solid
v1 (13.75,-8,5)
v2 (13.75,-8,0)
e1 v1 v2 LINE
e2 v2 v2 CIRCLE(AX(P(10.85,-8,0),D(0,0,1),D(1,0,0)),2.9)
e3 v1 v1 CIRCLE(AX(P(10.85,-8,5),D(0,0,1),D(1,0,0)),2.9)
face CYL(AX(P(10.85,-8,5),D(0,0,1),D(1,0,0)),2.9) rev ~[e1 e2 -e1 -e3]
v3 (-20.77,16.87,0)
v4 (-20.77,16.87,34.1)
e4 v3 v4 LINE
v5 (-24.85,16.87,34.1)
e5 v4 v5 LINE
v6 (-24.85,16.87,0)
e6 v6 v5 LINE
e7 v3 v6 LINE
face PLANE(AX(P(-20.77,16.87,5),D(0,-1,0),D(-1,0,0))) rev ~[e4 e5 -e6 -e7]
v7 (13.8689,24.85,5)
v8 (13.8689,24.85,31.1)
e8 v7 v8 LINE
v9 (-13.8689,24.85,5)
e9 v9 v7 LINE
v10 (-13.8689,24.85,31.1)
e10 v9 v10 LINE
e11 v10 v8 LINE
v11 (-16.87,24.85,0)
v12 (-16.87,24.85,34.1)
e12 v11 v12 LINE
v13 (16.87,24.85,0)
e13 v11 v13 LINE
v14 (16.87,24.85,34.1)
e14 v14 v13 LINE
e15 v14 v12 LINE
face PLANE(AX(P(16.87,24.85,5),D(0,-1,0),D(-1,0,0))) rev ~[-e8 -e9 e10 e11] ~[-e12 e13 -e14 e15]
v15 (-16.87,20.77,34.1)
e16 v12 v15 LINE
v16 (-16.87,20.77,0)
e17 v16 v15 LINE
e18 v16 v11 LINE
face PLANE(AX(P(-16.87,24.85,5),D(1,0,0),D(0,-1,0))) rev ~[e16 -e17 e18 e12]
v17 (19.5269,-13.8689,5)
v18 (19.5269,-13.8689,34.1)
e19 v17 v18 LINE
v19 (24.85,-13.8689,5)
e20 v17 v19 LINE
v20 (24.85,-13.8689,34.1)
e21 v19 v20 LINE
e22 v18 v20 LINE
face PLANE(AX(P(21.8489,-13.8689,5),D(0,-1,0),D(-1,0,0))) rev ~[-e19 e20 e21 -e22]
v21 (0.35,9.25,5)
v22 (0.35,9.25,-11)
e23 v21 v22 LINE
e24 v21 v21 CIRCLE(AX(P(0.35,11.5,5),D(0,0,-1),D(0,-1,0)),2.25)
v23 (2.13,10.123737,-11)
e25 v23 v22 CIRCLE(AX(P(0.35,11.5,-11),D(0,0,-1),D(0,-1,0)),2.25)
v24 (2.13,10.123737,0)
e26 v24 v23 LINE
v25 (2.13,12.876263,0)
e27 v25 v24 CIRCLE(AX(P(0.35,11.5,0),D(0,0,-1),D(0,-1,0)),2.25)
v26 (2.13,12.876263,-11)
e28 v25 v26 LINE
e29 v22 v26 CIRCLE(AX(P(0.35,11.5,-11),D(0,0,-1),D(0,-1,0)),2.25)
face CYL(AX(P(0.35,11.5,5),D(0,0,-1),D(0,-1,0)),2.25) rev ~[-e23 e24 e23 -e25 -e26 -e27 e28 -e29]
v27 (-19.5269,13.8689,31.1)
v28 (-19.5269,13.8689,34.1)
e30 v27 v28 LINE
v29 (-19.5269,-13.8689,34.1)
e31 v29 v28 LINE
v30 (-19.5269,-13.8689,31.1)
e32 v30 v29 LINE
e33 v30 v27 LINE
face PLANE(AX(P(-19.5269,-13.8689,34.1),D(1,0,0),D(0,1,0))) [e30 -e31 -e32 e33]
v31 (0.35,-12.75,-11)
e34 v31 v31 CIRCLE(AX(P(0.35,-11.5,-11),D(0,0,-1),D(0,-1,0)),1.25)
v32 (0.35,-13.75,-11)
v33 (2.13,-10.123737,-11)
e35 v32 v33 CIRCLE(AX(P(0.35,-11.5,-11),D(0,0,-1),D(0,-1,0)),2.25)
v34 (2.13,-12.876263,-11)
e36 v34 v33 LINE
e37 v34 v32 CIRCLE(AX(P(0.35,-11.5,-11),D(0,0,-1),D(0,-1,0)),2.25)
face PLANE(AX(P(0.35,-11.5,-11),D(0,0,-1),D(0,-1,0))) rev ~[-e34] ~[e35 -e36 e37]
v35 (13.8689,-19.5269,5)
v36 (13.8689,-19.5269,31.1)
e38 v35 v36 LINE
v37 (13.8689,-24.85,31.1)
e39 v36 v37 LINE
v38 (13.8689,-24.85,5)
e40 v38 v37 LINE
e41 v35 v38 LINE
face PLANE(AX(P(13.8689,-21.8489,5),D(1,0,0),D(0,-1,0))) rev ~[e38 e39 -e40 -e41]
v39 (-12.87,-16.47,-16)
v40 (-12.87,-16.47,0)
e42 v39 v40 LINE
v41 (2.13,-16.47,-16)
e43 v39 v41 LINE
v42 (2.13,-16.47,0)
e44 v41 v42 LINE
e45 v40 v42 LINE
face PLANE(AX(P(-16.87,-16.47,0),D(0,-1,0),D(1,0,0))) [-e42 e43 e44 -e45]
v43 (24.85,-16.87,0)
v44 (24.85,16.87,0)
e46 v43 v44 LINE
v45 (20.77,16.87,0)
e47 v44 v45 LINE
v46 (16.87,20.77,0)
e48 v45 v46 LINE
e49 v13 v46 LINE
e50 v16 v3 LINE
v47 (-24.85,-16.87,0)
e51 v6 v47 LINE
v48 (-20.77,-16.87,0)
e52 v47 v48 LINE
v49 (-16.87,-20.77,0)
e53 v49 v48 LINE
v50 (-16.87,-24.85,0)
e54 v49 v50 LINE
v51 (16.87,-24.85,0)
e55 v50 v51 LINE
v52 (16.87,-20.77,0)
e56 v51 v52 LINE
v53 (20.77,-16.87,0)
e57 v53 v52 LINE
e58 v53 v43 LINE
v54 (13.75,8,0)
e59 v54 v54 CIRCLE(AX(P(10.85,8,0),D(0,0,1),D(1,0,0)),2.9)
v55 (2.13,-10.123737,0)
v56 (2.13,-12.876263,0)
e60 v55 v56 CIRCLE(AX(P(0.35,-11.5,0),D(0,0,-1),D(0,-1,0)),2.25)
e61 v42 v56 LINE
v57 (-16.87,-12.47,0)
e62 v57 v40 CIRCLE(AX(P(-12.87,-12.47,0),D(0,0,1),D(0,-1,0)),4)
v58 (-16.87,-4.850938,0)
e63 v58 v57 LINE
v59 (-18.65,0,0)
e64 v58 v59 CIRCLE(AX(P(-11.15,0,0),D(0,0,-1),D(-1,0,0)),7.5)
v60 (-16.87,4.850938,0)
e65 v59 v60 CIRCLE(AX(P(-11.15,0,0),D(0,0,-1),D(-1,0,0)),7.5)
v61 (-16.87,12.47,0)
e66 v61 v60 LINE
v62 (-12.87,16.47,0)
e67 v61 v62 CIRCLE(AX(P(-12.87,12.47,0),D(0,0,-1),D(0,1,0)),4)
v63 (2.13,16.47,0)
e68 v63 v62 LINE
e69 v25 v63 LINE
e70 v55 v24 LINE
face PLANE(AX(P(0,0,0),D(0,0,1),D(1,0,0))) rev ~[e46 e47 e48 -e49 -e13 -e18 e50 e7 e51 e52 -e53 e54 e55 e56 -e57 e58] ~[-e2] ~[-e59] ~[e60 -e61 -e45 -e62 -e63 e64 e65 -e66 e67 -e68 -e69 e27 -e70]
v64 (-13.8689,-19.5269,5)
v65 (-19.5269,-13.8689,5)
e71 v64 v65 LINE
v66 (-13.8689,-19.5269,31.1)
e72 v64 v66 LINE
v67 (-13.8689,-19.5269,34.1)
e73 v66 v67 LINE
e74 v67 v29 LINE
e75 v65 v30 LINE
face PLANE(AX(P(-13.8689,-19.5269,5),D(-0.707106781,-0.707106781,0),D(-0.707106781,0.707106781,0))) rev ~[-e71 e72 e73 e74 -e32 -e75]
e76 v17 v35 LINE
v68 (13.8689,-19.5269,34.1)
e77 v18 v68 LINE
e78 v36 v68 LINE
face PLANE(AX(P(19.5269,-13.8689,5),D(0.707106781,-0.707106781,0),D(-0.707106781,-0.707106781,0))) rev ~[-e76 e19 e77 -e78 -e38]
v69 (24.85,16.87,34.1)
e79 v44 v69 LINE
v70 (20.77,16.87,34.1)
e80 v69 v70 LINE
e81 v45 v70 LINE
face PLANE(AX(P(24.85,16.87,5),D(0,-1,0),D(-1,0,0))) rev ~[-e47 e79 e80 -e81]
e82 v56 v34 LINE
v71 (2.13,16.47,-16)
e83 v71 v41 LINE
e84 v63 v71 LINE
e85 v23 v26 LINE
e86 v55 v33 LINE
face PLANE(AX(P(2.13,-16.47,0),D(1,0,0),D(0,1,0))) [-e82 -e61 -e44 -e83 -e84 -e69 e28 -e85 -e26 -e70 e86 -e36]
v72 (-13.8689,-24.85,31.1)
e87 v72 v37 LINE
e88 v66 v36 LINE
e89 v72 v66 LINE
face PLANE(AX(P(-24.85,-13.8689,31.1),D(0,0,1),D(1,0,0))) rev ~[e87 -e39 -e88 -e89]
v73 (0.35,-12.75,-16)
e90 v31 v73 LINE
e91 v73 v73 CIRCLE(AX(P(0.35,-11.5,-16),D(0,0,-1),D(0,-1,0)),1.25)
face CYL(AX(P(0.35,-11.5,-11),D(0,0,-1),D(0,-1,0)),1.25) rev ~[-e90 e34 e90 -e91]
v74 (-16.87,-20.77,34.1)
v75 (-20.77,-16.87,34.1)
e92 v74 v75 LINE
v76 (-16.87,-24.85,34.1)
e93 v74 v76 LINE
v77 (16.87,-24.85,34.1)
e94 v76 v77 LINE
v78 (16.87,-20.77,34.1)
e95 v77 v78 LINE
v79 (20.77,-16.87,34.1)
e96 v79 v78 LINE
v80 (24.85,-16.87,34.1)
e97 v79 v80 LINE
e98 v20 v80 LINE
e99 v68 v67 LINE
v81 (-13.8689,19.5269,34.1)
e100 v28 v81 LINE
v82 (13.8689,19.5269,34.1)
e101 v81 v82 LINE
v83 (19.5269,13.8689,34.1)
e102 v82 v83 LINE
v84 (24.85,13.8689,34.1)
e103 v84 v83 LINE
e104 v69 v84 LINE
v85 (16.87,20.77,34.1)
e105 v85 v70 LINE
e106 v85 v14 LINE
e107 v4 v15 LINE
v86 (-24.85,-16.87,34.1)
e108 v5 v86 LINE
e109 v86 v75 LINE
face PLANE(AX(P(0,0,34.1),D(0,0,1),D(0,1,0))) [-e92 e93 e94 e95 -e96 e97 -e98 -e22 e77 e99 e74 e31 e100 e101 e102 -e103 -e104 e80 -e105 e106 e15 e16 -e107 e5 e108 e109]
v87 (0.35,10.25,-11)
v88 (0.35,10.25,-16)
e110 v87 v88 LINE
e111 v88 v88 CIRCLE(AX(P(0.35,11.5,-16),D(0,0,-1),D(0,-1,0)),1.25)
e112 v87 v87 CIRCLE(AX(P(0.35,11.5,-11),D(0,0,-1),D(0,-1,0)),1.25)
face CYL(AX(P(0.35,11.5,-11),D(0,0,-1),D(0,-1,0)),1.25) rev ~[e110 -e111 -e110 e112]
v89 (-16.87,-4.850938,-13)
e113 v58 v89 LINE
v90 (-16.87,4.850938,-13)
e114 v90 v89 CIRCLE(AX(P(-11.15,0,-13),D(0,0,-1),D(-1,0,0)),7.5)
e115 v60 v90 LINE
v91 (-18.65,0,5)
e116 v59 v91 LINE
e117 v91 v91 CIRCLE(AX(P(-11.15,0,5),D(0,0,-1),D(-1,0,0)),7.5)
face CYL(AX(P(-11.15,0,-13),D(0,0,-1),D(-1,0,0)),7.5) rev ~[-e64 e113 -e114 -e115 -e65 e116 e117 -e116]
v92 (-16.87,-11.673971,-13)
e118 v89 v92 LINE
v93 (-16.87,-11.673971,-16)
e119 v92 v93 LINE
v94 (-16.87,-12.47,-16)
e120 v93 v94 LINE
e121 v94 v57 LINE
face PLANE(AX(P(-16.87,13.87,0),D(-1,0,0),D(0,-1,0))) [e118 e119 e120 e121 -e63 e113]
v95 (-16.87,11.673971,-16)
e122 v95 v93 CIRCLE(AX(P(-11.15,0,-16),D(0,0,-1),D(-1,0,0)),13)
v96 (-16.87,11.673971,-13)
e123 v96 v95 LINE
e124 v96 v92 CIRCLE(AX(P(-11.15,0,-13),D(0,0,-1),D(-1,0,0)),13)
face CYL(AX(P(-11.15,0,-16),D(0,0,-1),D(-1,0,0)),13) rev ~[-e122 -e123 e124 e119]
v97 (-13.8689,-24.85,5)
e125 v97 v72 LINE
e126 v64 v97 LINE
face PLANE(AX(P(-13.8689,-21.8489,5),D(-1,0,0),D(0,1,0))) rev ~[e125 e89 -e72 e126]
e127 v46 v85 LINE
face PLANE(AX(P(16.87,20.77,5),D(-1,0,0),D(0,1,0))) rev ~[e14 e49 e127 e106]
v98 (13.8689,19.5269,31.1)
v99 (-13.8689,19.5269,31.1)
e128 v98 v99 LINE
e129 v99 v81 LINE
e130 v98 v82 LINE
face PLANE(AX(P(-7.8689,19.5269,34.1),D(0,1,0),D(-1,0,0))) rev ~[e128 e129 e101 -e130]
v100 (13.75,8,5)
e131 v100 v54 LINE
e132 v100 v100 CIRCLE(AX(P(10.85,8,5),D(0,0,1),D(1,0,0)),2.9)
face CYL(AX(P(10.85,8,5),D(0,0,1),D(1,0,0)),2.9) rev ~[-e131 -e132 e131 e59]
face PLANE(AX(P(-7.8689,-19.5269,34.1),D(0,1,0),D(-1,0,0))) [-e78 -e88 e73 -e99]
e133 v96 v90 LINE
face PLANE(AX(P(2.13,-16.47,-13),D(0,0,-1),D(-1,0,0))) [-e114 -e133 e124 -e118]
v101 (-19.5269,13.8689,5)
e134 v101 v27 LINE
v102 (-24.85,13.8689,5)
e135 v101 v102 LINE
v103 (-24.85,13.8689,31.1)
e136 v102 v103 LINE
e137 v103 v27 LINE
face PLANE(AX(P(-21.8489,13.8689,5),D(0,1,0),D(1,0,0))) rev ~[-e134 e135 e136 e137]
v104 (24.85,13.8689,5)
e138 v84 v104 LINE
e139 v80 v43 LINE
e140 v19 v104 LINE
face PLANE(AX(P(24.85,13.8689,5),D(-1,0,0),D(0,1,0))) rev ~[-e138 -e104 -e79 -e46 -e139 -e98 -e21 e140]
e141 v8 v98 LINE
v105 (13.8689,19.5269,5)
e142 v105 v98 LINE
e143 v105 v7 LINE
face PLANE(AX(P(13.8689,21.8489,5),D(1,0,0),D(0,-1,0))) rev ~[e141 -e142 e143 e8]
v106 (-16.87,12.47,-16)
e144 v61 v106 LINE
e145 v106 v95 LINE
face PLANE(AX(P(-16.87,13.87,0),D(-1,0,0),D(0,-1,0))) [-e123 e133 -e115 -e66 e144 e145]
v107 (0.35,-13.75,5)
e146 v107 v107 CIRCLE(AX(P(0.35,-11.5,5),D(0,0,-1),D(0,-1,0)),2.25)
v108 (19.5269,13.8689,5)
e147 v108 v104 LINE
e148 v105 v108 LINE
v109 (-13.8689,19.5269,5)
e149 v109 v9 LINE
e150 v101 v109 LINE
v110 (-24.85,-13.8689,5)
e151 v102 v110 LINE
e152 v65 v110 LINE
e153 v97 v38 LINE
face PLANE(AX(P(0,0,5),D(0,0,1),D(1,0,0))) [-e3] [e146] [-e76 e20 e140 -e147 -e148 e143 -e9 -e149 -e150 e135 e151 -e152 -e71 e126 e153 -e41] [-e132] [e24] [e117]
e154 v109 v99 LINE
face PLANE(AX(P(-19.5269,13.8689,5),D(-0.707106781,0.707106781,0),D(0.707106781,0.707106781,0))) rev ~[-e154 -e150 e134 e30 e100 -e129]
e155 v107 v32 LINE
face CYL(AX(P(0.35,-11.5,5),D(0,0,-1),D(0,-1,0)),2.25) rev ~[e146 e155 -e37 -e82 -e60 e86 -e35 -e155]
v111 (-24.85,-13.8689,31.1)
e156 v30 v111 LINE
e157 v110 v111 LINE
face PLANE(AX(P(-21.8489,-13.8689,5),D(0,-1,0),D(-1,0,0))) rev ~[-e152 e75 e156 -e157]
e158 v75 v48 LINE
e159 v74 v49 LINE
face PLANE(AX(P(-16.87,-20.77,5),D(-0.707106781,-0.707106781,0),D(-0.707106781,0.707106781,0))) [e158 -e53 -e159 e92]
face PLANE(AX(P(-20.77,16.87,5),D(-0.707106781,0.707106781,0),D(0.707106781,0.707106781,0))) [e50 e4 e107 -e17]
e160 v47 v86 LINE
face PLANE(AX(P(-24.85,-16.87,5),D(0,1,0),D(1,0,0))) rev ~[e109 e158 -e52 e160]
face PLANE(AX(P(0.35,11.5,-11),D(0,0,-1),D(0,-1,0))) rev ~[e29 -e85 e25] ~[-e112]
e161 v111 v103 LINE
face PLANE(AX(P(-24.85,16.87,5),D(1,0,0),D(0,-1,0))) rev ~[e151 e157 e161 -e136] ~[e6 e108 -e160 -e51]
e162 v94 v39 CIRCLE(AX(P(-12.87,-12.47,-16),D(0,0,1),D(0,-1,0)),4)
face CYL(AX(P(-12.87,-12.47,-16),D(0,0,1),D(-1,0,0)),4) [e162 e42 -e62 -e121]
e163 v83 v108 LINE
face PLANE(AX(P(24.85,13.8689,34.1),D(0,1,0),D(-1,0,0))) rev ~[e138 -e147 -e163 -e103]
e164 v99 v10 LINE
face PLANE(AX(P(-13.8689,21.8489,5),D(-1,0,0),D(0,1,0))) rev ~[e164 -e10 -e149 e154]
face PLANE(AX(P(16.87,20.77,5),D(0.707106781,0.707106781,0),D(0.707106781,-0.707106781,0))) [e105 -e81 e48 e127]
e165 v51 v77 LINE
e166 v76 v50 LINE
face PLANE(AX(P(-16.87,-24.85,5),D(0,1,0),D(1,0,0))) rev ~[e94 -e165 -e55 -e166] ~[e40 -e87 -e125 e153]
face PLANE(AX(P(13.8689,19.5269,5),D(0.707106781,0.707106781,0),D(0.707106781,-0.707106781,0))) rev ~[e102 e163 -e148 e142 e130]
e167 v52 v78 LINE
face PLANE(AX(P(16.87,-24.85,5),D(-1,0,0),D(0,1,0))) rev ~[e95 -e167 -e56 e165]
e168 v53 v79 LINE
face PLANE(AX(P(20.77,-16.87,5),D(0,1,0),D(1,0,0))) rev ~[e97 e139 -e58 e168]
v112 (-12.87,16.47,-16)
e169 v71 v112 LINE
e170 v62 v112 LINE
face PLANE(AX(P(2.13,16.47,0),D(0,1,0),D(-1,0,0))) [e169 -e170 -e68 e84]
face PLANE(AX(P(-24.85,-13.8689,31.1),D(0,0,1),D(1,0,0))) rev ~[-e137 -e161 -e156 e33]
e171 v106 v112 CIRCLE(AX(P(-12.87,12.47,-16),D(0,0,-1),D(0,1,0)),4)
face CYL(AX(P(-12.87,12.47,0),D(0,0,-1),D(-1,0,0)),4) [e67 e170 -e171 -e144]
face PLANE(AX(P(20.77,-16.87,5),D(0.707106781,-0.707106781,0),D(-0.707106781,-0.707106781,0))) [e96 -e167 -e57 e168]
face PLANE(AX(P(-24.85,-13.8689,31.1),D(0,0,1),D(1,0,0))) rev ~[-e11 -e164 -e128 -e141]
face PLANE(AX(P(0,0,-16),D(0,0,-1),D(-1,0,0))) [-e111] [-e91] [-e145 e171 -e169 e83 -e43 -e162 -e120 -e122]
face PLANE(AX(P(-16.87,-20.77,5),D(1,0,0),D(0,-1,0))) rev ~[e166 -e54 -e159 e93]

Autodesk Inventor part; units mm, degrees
ref_plane "Work Plane1" through (0, 0, 0) normal (0, 0, 1) x (1, 0, 0)
sketch "Sketch1" plane through (0, 0, 0) normal (0, 0, 1) x (1, 0, 0)
  arc A0 (12.5934, -5.8404) -> (12.8401, -5.9947) centre (12.8241, -5.7459) ccw construction
  line L0 (12.8401, -5.9947) -> (16.4715, -5.9947) construction
  line L1 (16.4715, -5.9947) -> (16.97, -5.4961) construction
  line L2 (16.97, -5.4961) -> (16.97, 1.583) construction
  arc A1 (16.97, 2.3806) -> (16.97, 1.583) centre (17.2691, 1.9818) ccw construction
  line L3 (16.97, 2.3806) -> (16.97, 5.4715) construction
  line L4 (16.97, 5.4715) -> (16.4715, 5.97) construction
  line L5 (16.4715, 5.97) -> (12.8401, 5.97) construction
  arc A2 (12.8401, 5.97) -> (12.6094, 5.8152) centre (12.8401, 5.7207) ccw construction
  arc A3 (12.0954, 5.2394) -> (12.6094, 5.8152) centre (11.5075, 6.2814) ccw construction
  arc A4 (12.0954, 5.2394) -> (11.974, 5.0466) centre (12.2223, 5.0248) ccw construction
  line L6 (11.974, 5.0466) -> (11.9439, 4.702) construction
  arc A5 (11.6955, 4.4744) -> (11.9439, 4.702) centre (11.6955, 4.7237) ccw construction
  line L7 (11.6955, 4.4744) -> (11.2445, 4.4744) construction
  arc A6 (10.9961, 4.702) -> (11.2445, 4.4744) centre (11.2445, 4.7237) ccw construction
  line L8 (10.9961, 4.702) -> (10.9642, 5.0674) construction
  arc A7 (10.9642, 5.0674) -> (10.8487, 5.2566) centre (10.7158, 5.0457) ccw construction
  arc A8 (10.3792, 5.8152) -> (10.8487, 5.2566) centre (11.4862, 6.2691) ccw construction
  arc A9 (10.3792, 5.8152) -> (10.1485, 5.97) centre (10.1485, 5.7206) ccw construction
  line L9 (10.1485, 5.97) -> (9.4685, 5.97) construction
  line L10 (9.4685, 5.97) -> (8.97, 5.4715) construction
  line L11 (8.97, 5.4715) -> (8.97, -5.4961) construction
  line L12 (8.97, -5.4961) -> (9.4685, -5.9947) construction
  line L13 (9.4685, -5.9947) -> (10.1412, -5.9947) construction
  arc A10 (10.1412, -5.9947) -> (10.3791, -5.84) centre (10.1485, -5.7455) ccw construction
  arc A11 (10.8487, -5.2813) -> (10.3791, -5.84) centre (11.4862, -6.2938) ccw construction
  arc A12 (10.8487, -5.2813) -> (10.9642, -5.0921) centre (10.7158, -5.0704) ccw construction
  line L14 (10.9642, -5.0921) -> (10.9961, -4.7266) construction
  arc A13 (11.2445, -4.4991) -> (10.9961, -4.7266) centre (11.2445, -4.7483) ccw construction
  line L15 (11.2445, -4.4991) -> (11.6955, -4.4991) construction
  arc A14 (11.9439, -4.7266) -> (11.6955, -4.4991) centre (11.6955, -4.7483) ccw construction
  line L16 (11.9439, -4.7266) -> (11.974, -5.0712) construction
  arc A15 (11.974, -5.0712) -> (12.0954, -5.264) centre (12.2223, -5.0495) ccw construction
  arc A16 (12.5934, -5.8404) -> (12.0954, -5.264) centre (11.4862, -6.2938) ccw construction
  arc A17 (24.85, 22.85) -> (22.85, 24.85) centre (22.85, 22.85) ccw construction
  line L17 (22.85, 24.85) -> (-16.97, 24.85) construction
  line L18 (-16.97, 24.85) -> (-16.97, 21.15) construction
  line L19 (-16.97, 21.15) -> (16.97, 21.15) construction
  line L20 (16.97, 16.97) -> (16.97, 21.15) construction
  line L21 (21.15, 16.97) -> (16.97, 16.97) construction
  line L22 (21.15, 16.97) -> (21.15, -16.97) construction
  line L23 (21.15, -16.97) -> (24.85, -16.97) construction
  line L24 (24.85, -16.97) -> (24.85, 22.85) construction
  line L25 (23.75, 23.25) -> (23.75, 18.15) construction
  arc A18 (23.25, 17.65) -> (23.75, 18.15) centre (23.25, 18.15) ccw construction
  line L26 (23.25, 17.65) -> (20.8937, 17.65) construction
  arc A19 (20.5239, 17.8134) -> (20.8937, 17.65) centre (20.8937, 18.15) ccw construction
  line L27 (20.5239, 17.8134) -> (17.7803, 20.8273) construction
  arc A20 (17.65, 21.1639) -> (17.7803, 20.8273) centre (18.15, 21.1639) ccw construction
  line L28 (17.65, 21.1639) -> (17.65, 23.25) construction
  arc A21 (18.15, 23.75) -> (17.65, 23.25) centre (18.15, 23.25) ccw construction
  line L29 (18.15, 23.75) -> (23.25, 23.75) construction
  arc A22 (23.75, 23.25) -> (23.25, 23.75) centre (23.25, 23.25) ccw construction
  arc A23 (-24.85, -22.85) -> (-22.85, -24.85) centre (-22.85, -22.85) ccw construction
  line L30 (-22.85, -24.85) -> (16.97, -24.85) construction
  line L31 (16.97, -24.85) -> (16.97, -21.15) construction
  line L32 (16.97, -21.15) -> (-16.97, -21.15) construction
  line L33 (-16.97, -16.97) -> (-16.97, -21.15) construction
  line L34 (-21.15, -16.97) -> (-16.97, -16.97) construction
  line L35 (-21.15, -16.97) -> (-21.15, 16.97) construction
  line L36 (-21.15, 16.97) -> (-24.85, 16.97) construction
  line L37 (-24.85, 16.97) -> (-24.85, -22.85) construction
  line L38 (-20.8273, -17.7803) -> (-17.8134, -20.5239) construction
  arc A24 (-17.65, -20.8937) -> (-17.8134, -20.5239) centre (-18.15, -20.8937) ccw construction
  line L39 (-17.65, -20.8937) -> (-17.65, -23.25) construction
  arc A25 (-18.15, -23.75) -> (-17.65, -23.25) centre (-18.15, -23.25) ccw construction
  line L40 (-18.15, -23.75) -> (-23.25, -23.75) construction
  arc A26 (-23.75, -23.25) -> (-23.25, -23.75) centre (-23.25, -23.25) ccw construction
  line L41 (-23.75, -23.25) -> (-23.75, -18.15) construction
  arc A27 (-23.25, -17.65) -> (-23.75, -18.15) centre (-23.25, -18.15) ccw construction
  line L42 (-23.25, -17.65) -> (-21.1639, -17.65) construction
  arc A28 (-20.8273, -17.7803) -> (-21.1639, -17.65) centre (-21.1639, -18.15) ccw construction
  arc A29 (-22.85, 24.85) -> (-24.85, 22.85) centre (-22.85, 22.85) ccw construction
  line L43 (-22.85, 24.85) -> (16.97, 24.85) construction
  line L44 (16.97, 24.85) -> (16.97, 21.15) construction
  line L45 (16.97, 21.15) -> (-16.97, 21.15) construction
  line L46 (-16.97, 16.97) -> (-16.97, 21.15) construction
  line L47 (-21.15, 16.97) -> (-16.97, 16.97) construction
  line L48 (-21.15, 16.97) -> (-21.15, -16.97) construction
  line L49 (-21.15, -16.97) -> (-24.85, -16.97) construction
  line L50 (-24.85, -16.97) -> (-24.85, 22.85) construction
  line L51 (-20.8273, 17.7803) -> (-17.8134, 20.5239) construction
  arc A30 (-17.8134, 20.5239) -> (-17.65, 20.8937) centre (-18.15, 20.8937) ccw construction
  line L52 (-17.65, 20.8937) -> (-17.65, 23.25) construction
  arc A31 (-17.65, 23.25) -> (-18.15, 23.75) centre (-18.15, 23.25) ccw construction
  line L53 (-18.15, 23.75) -> (-23.25, 23.75) construction
  arc A32 (-23.25, 23.75) -> (-23.75, 23.25) centre (-23.25, 23.25) ccw construction
  line L54 (-23.75, 23.25) -> (-23.75, 18.15) construction
  arc A33 (-23.75, 18.15) -> (-23.25, 17.65) centre (-23.25, 18.15) ccw construction
  line L55 (-23.25, 17.65) -> (-21.1639, 17.65) construction
  arc A34 (-21.1639, 17.65) -> (-20.8273, 17.7803) centre (-21.1639, 18.15) ccw construction
  arc A35 (22.85, -24.85) -> (24.85, -22.85) centre (22.85, -22.85) ccw construction
  line L56 (22.85, -24.85) -> (-16.97, -24.85) construction
  line L57 (-16.97, -24.85) -> (-16.97, -21.15) construction
  line L58 (-16.97, -21.15) -> (16.97, -21.15) construction
  line L59 (16.97, -16.97) -> (16.97, -21.15) construction
  line L60 (21.15, -16.97) -> (16.97, -16.97) construction
  line L61 (21.15, -16.97) -> (21.15, 16.97) construction
  line L62 (21.15, 16.97) -> (24.85, 16.97) construction
  line L63 (24.85, 16.97) -> (24.85, -22.85) construction
  line L64 (23.75, -23.25) -> (23.75, -18.15) construction
  arc A36 (23.75, -18.15) -> (23.25, -17.65) centre (23.25, -18.15) ccw construction
  line L65 (23.25, -17.65) -> (20.8937, -17.65) construction
  arc A37 (20.8937, -17.65) -> (20.5239, -17.8134) centre (20.8937, -18.15) ccw construction
  line L66 (20.5239, -17.8134) -> (17.7803, -20.8273) construction
  arc A38 (17.7803, -20.8273) -> (17.65, -21.1639) centre (18.15, -21.1639) ccw construction
  line L67 (17.65, -21.1639) -> (17.65, -23.25) construction
  arc A39 (17.65, -23.25) -> (18.15, -23.75) centre (18.15, -23.25) ccw construction
  line L68 (18.15, -23.75) -> (23.25, -23.75) construction
  arc A40 (23.25, -23.75) -> (23.75, -23.25) centre (23.25, -23.25) ccw construction
  circle A41 centre (0.47, -10.47) radius 1.1 construction
  circle A42 centre (0.47, 12.53) radius 1.025 construction
  line L69 (24.85, 16.87) -> (16.87, 16.87)
  line L70 (16.87, 16.87) -> (16.87, -16.87)
  line L71 (16.87, -16.87) -> (24.85, -16.87)
  line L72 (24.85, -16.87) -> (24.85, 16.87)
  line L73 (-16.87, 24.85) -> (16.87, 24.85)
  line L74 (16.87, 24.85) -> (16.87, 13.87)
  line L75 (16.87, 13.87) -> (-16.87, 13.87)
  line L76 (-16.87, 13.87) -> (-16.87, 24.85)
  line L77 (-16.87, 16.87) -> (-24.85, 16.87)
  line L78 (-24.85, 16.87) -> (-24.85, -16.87)
  line L79 (-24.85, -16.87) -> (-16.87, -16.87)
  line L80 (-16.87, -16.87) -> (-16.87, 16.87)
  line L81 (-16.87, -24.85) -> (16.87, -24.85)
  line L82 (16.87, -24.85) -> (16.87, -13.87)
  line L83 (16.87, -13.87) -> (-16.87, -13.87)
  line L84 (-16.87, -13.87) -> (-16.87, -24.85)
  line L85 (16.87, 13.87) -> (-16.87, 13.87)
  line L86 (-16.87, 13.87) -> (-16.87, -13.87)
  line L87 (-16.87, -13.87) -> (16.87, -13.87)
  line L88 (16.87, -13.87) -> (16.87, 13.87)
  point P0 (0, 0)
extrude "Extrusion1" add sketch "Sketch1" along normal blind 5
chamfer "Chamfer1" distance 3.9 angle 45 4 edges at (16.87, -16.87, 2.5) (-16.87, -16.87, 2.5) (-16.87, 16.87, 2.5) (16.87, 16.87, 2.5)
sketch "Sketch2" plane through (0, 0, 5) normal (0, 0, 1) x (1, 0, 0)
  line L0 (16.87, -24.85) -> (16.87, -20.77) projected
  line L1 (-16.87, -20.77) -> (-16.87, -24.85) projected
  line L2 (-16.87, -24.85) -> (16.87, -24.85) projected
  line L3 (20.77, -16.87) -> (16.87, -20.77) projected
  line L4 (20.77, -16.87) -> (24.85, -16.87) projected
  line L5 (24.85, -16.87) -> (24.85, 16.87) projected
  line L6 (24.85, 16.87) -> (20.77, 16.87) projected
  line L7 (16.87, 20.77) -> (20.77, 16.87) projected
  line L8 (16.87, 20.77) -> (16.87, 24.85) projected
  line L9 (16.87, 24.85) -> (-16.87, 24.85) projected
  line L10 (-16.87, 24.85) -> (-16.87, 20.77) projected
  line L11 (-20.77, 16.87) -> (-16.87, 20.77) projected
  line L12 (-20.77, 16.87) -> (-24.85, 16.87) projected
  line L13 (-24.85, 16.87) -> (-24.85, -16.87) projected
  line L14 (-24.85, -16.87) -> (-20.77, -16.87) projected
  line L15 (-16.87, -20.77) -> (-20.77, -16.87) projected
  line L16 (13.8689, -19.5269) -> (13.8689, -21.8489)
  line L17 (-13.8689, -21.8489) -> (-13.8689, -19.5269)
  line L18 (-13.8689, -19.5269) -> (-19.5269, -13.8689)
  line L19 (-19.5269, -13.8689) -> (-21.8489, -13.8689)
  line L20 (-21.8489, 13.8689) -> (-19.5269, 13.8689)
  line L21 (-19.5269, 13.8689) -> (-13.8689, 19.5269)
  line L22 (-13.8689, 19.5269) -> (-13.8689, 21.8489)
  line L23 (13.8689, 21.8489) -> (13.8689, 19.5269)
  line L24 (13.8689, 19.5269) -> (19.5269, 13.8689)
  line L25 (19.5269, 13.8689) -> (21.8489, 13.8689)
  line L26 (21.8489, -13.8689) -> (19.5269, -13.8689)
  line L27 (19.5269, -13.8689) -> (13.8689, -19.5269)
  line L28 (13.8689, -21.8489) -> (13.8689, -24.85)
  line L29 (16.87, -24.85) -> (-16.87, -24.85) projected
  line L30 (21.8489, -13.8689) -> (24.85, -13.8689)
  line L31 (24.85, -16.87) -> (24.85, 16.87) projected
  line L32 (21.8489, 13.8689) -> (24.85, 13.8689)
  line L33 (13.8689, 21.8489) -> (13.8689, 24.85)
  line L34 (-13.8689, 21.8489) -> (-13.8689, 24.85)
  line L35 (-21.8489, 13.8689) -> (-24.85, 13.8689)
  line L36 (-21.8489, -13.8689) -> (-24.85, -13.8689)
  line L37 (-13.8689, -21.8489) -> (-13.8689, -24.85)
  line L38 (13.8689, -21.8489) -> (11.5469, -21.8489)
  line L39 (-11.5469, -21.8489) -> (-13.8689, -21.8489)
  line L40 (21.8489, 13.8689) -> (21.8489, 11.5469)
  line L41 (21.8489, -11.5469) -> (21.8489, -13.8689)
  line L42 (-21.8489, -13.8689) -> (-21.8489, -11.5469)
  line L43 (-21.8489, 11.5469) -> (-21.8489, 13.8689)
  line L44 (-13.8689, 21.8489) -> (-11.5469, 21.8489)
  line L45 (11.5469, 21.8489) -> (13.8689, 21.8489)
  point P0 (0, 0)
ref_plane "Work Plane2" through (-16.97, -24.85, 34.1) normal (0, 0, -1) x (0, 1, 0)
extrude "Extrusion2" add sketch "Sketch2" along normal up to surface (29.1 mm away) contours L2 L28 L16 L27 L26 L30 L5 L4 L3 L0
pattern_circular "Circular Pattern1" count 4 over 360 about axis through (0, 0, 17.13) along (0, 0, -1) of "Extrusion2"
sketch "Sketch3" plane through (-24.85, -13.8689, 34.1) normal (0, 0, 1) x (1, 0, 0)
  circle A0 centre (13.82, 13.8689) radius 1.5 projected
  line L0 (10.9811, -5.658) -> (5.3231, 0) projected
  line L1 (5.3231, 0) -> (0, 0) projected
  line L2 (0, 0) -> (0, -3.0011) projected
  line L3 (0, -3.0011) -> (4.08, -3.0011) projected
  line L4 (4.08, -3.0011) -> (7.98, -6.9011) projected
  line L5 (7.98, -6.9011) -> (7.98, -10.9811) projected
  line L6 (7.98, -10.9811) -> (10.9811, -10.9811) projected
  line L7 (10.9811, -10.9811) -> (10.9811, -5.658) projected
  line L8 (5.3231, 27.7378) -> (10.9811, 33.3958) projected
  line L9 (10.9811, 33.3958) -> (10.9811, 38.7189) projected
  line L10 (10.9811, 38.7189) -> (7.98, 38.7189) projected
  line L11 (7.98, 38.7189) -> (7.98, 34.6389) projected
  line L12 (7.98, 34.6389) -> (4.08, 30.7389) projected
  line L13 (4.08, 30.7389) -> (0, 30.7389) projected
  line L14 (0, 30.7389) -> (0, 27.7378) projected
  line L15 (0, 27.7378) -> (5.3231, 27.7378) projected
  line L16 (10.9811, -10.9811) -> (16.9811, -10.9811)
  line L17 (16.9811, 38.7189) -> (10.9811, 38.7189)
  line L18 (0, 0) -> (0, 27.7378)
  line L19 (0, 0) -> (5.3231, 0)
  line L20 (5.3231, 0) -> (5.3231, 27.7378)
  line L21 (5.3231, 27.7378) -> (0, 27.7378)
  line L22 (0, 27.7378) -> (0, 0)
  line L23 (5.3231, 0) -> (0, 0) projected
  line L24 (5.3231, 0) -> (10.9811, -5.658)
  line L25 (10.9811, 33.3958) -> (5.3231, 27.7378)
  line L26 (38.7189, 38.7189) -> (38.7189, 33.3958) projected
  line L27 (38.7189, -5.658) -> (38.7189, -10.9811) projected
  line L28 (10.9811, -10.9811) -> (38.7189, -10.9811)
  line L29 (38.7189, -10.9811) -> (38.7189, -5.658)
  line L30 (38.7189, -5.658) -> (10.9811, -5.658)
  line L31 (10.9811, -5.658) -> (10.9811, -10.9811)
  line L32 (10.9811, 38.7189) -> (10.9811, 33.3958) projected
  line L33 (10.9811, 38.7189) -> (38.7189, 38.7189)
  line L34 (38.7189, 38.7189) -> (38.7189, 33.3958)
  line L35 (38.7189, 33.3958) -> (10.9811, 33.3958)
  line L36 (10.9811, 33.3958) -> (10.9811, 38.7189)
  line L37 (16.9811, -10.9811) -> (16.9811, -5.658)
  line L38 (16.9811, 33.3958) -> (16.9811, 38.7189)
  line L39 (10.9811, 38.7189) -> (10.9811, 33.3958)
  line L40 (10.9811, -5.658) -> (10.9811, -10.9811)
  line L41 (10.9811, -5.658) -> (10.9811, 0)
  line L42 (10.9811, 27.7378) -> (10.9811, 33.3958)
  line L43 (49.7, 0) -> (44.3769, 0) projected
  line L44 (44.3769, 27.7378) -> (49.7, 27.7378) projected
  line L45 (44.3769, 27.7378) -> (49.7, 27.7378)
  line L46 (49.7, 27.7378) -> (49.7, 0)
  line L47 (49.7, 0) -> (44.3769, 0)
  line L48 (44.3769, 0) -> (44.3769, 27.7378)
  point P0 (24.85, 13.8689)
  dimension "d19" = 6
extrude "Extrusion3" add sketch "Sketch3" against normal blind 3 contours L7 L6 L5 L4 L3 L2 L1 L0 | L30 L37 L16 L7 | L1 L18 L15 L20 | L30 L27 L28 L37 | L15 L14 L13 L12 L11 L10 L9 L8 | L9 L17 L38 L35 | L38 L33 L26 L35 | L43 L48 L44 L46
ref_plane "Work Plane3" through (16.97, -5.4961, -37.9) normal (1, 0, 0) x (0, 1, 0)
sketch "Sketch7" plane through (0, 0, 0) normal (0, 0, -1) x (-1, 0, 0)
  arc A0 (18.93, 12.43) -> (22.43, 8.93) centre (22.43, 12.43) ccw construction
  line L0 (18.93, 12.43) -> (18.93, 14.53) construction
  line L1 (3.13, 14.53) -> (18.93, 14.53) construction
  line L2 (3.13, 14.53) -> (3.13, 12.43) construction
  arc A1 (-0.37, 8.93) -> (3.13, 12.43) centre (-0.37, 12.43) ccw construction
  line L3 (-0.37, 8.93) -> (-2.47, 8.93) construction
  line L4 (-2.47, -6.87) -> (-2.47, 8.93) construction
  line L5 (-2.47, -6.87) -> (-0.37, -6.87) construction
  arc A2 (3.13, -10.37) -> (-0.37, -6.87) centre (-0.37, -10.37) ccw construction
  line L6 (3.13, -10.37) -> (3.13, -12.47) construction
  line L7 (18.93, -12.47) -> (3.13, -12.47) construction
  line L8 (18.93, -12.47) -> (18.93, -10.37) construction
  arc A3 (22.43, -6.87) -> (18.93, -10.37) centre (22.43, -10.37) ccw construction
  line L9 (22.43, -6.87) -> (24.53, -6.87) construction
  line L10 (24.53, 8.93) -> (24.53, -6.87) construction
  line L11 (24.53, 8.93) -> (22.43, 8.93) construction
  circle A4 centre (11.03, 1.03) radius 2.5 construction
  arc A5 (-1.5344, 11.2045) -> (0.934, 13.4886) centre (-0.47, 12.53) ccw construction
  circle A6 centre (-0.47, -10.47) radius 1.1 construction
  arc A7 (0.5944, 13.8555) -> (-1.874, 11.5714) centre (-0.47, 12.53) ccw construction
  line L12 (-19.5269, -13.8689) -> (-24.85, -13.8689) construction
  line L13 (-19.5269, 13.8689) -> (-13.8689, 19.5269) construction
  line L14 (-13.8689, 19.5269) -> (-13.8689, 24.85) construction
  line L15 (-13.8689, 24.85) -> (13.8689, 24.85) construction
  line L16 (13.8689, 24.85) -> (13.8689, 19.5269) construction
  line L17 (13.8689, 19.5269) -> (19.5269, 13.8689) construction
  line L18 (19.5269, 13.8689) -> (24.85, 13.8689) construction
  line L19 (24.85, 13.8689) -> (24.85, -13.8689) construction
  line L20 (24.85, -13.8689) -> (19.5269, -13.8689) construction
  line L21 (19.5269, -13.8689) -> (13.8689, -19.5269) construction
  line L22 (13.8689, -19.5269) -> (13.8689, -24.85) construction
  line L23 (13.8689, -24.85) -> (-13.8689, -24.85) construction
  line L24 (-13.8689, -24.85) -> (-13.8689, -19.5269) construction
  line L25 (-13.8689, -19.5269) -> (-19.5269, -13.8689) construction
  line L26 (16.87, 13.87) -> (-16.87, 13.87) construction
  line L27 (16.87, 13.87) -> (-19.5258, 13.87) projected
  line L28 (-2.13, 13.87) -> (16.87, 13.87)
  line L29 (16.87, 13.87) -> (16.87, -16.47)
  line L30 (16.87, -16.47) -> (-2.13, -16.47)
  line L31 (-2.13, -16.47) -> (-2.13, 13.87)
  line L32 (16.97, 16.97) -> (-16.97, 16.97)
  line L33 (16.87, 13.87) -> (-2.13, 13.87)
  line L34 (-2.13, 13.87) -> (-2.13, 16.47)
  line L35 (-2.13, 16.47) -> (16.87, 16.47)
  line L36 (16.87, 16.47) -> (16.87, 13.87)
  line L37 (-16.97, -16.97) -> (16.97, -16.97) construction
  line L38 (-24.85, -13.8689) -> (-24.85, 13.8689) projected
  line L39 (-24.85, 13.8689) -> (-19.5269, 13.8689) projected
  point P0 (0, 0)
  dimension "d35" = 19
  dimension "d54" = 0.5
  dimension "d55" = 0.5
ref_plane "Work Plane4" through (-25.03, -12.97, -12) normal (0, 0, 1) x (1, 0, 0)
extrude "Extrusion7" add sketch "Sketch7" along normal blind 16 and the other way blind 5
sketch "Sketch8" plane through (0, 0, 5) normal (0, 0, 1) x (1, 0, 0)
  arc A0 (0.35, -14) -> (2.85, -11.5) centre (0.35, -11.5) ccw projected
  circle A1 centre (0.35, 11.5) radius 1.025 projected
  circle A2 centre (0.35, -11.5) radius 1.025 projected
  point P0 (0, 0)
  point P1 (0.47, 12.53)
  point P2 (0.47, -10.47)
hole "Hole1" at (0.35, 11.5, 5) at (0.35, -11.5, 5) direction (0, 0, -1) diameter 2.5 end through all counterbore diameter 4.5 counterbore depth 16
sketch "Sketch9" plane through (2.13, -16.47, -16) normal (0, 0, -1) x (-1, 0, 0)
  circle A0 centre (13.28, 16.47) radius 13
  point P0 (2.13, 16.47)
  dimension "d93" = 11.15
extrude "Extrusion8" cut sketch "Sketch9" against normal blind 3
sketch "Sketch10" plane through (2.13, -16.47, -13) normal (0, 0, -1) x (-1, 0, 0)
  circle A0 centre (13.28, 16.47) radius 7.5
  arc A1 (19, 28.144) -> (19, 4.796) centre (13.28, 16.47) ccw construction
  point P0 (2.13, 16.47)
  dimension "d49" = 15
extrude "Extrusion9" cut sketch "Sketch10" against normal up to next
fillet "Fillet1" radius 4 2 edges at (-16.87, -16.47, -8) (-16.87, 16.47, -8)
sketch "Sketch14" plane through (0, 0, 5) normal (0, 0, 1) x (1, 0, 0)
  circle A0 centre (-11.15, 0) radius 7.5 projected
  line L0 (13.8689, 19.5269) -> (13.8689, 24.85) projected
  line L1 (13.8689, 24.85) -> (-13.8689, 24.85) projected
  line L2 (-13.8689, 24.85) -> (-13.8689, 19.5269) projected
  line L3 (-13.8689, 19.5269) -> (-19.5269, 13.8689) projected
  line L4 (-19.5269, 13.8689) -> (-24.85, 13.8689) projected
  line L5 (-24.85, 13.8689) -> (-24.85, -13.8689) projected
  line L6 (-24.85, -13.8689) -> (-19.5269, -13.8689) projected
  line L7 (-19.5269, -13.8689) -> (-13.8689, -19.5269) projected
  line L8 (-13.8689, -19.5269) -> (-13.8689, -24.85) projected
  line L9 (-13.8689, -24.85) -> (13.8689, -24.85) projected
  line L10 (13.8689, -24.85) -> (13.8689, -19.5269) projected
  line L11 (13.8689, -19.5269) -> (19.5269, -13.8689) projected
  line L12 (19.5269, -13.8689) -> (24.85, -13.8689) projected
  line L13 (24.85, -13.8689) -> (24.85, 13.8689) projected
  line L14 (24.85, 13.8689) -> (19.5269, 13.8689) projected
  line L15 (19.5269, 13.8689) -> (13.8689, 19.5269) projected
  circle A1 centre (10.85, -8) radius 2.9
  circle A2 centre (10.85, 8) radius 2.9
  point P0 (0, 0)
  dimension "d74" = 5.8
  dimension "d75" = 5.8
  dimension "da" = 8
  dimension "d77" = 8
  dimension "db" = 14
  dimension "d79" = 14
extrude "Extrusion12" cut sketch "Sketch14" against normal blind 10 contours A1 | A2
sketch "Sketch17" plane through (-16.87, 24.85, 34.1) normal (0, 0, 1) x (1, 0, 0)
  line L0 (41.72, -10.9811) -> (41.72, -38.7189) projected
  line L1 (36.3969, -38.7189) -> (41.72, -38.7189) projected
  line L2 (36.3969, -38.7189) -> (36.3969, -10.9811) projected
  line L3 (41.72, -10.9811) -> (36.3969, -10.9811) projected
  point P0 (16.87, -24.85)
extrude "Extrusion15" cut sketch "Sketch17" against normal blind 27
equation "\"d77\" = da"
equation "\"d79\" = db"
equation "\"d2\" = d1"
equation "\"d3\" = d1"
equation "\"d4\" = d1"
equation "\"d5\" = d1"
equation "\"d1\" = 0.1"
properties part number "30_Cube_Z_Focus_Drylin_NEMA_base_v3"
